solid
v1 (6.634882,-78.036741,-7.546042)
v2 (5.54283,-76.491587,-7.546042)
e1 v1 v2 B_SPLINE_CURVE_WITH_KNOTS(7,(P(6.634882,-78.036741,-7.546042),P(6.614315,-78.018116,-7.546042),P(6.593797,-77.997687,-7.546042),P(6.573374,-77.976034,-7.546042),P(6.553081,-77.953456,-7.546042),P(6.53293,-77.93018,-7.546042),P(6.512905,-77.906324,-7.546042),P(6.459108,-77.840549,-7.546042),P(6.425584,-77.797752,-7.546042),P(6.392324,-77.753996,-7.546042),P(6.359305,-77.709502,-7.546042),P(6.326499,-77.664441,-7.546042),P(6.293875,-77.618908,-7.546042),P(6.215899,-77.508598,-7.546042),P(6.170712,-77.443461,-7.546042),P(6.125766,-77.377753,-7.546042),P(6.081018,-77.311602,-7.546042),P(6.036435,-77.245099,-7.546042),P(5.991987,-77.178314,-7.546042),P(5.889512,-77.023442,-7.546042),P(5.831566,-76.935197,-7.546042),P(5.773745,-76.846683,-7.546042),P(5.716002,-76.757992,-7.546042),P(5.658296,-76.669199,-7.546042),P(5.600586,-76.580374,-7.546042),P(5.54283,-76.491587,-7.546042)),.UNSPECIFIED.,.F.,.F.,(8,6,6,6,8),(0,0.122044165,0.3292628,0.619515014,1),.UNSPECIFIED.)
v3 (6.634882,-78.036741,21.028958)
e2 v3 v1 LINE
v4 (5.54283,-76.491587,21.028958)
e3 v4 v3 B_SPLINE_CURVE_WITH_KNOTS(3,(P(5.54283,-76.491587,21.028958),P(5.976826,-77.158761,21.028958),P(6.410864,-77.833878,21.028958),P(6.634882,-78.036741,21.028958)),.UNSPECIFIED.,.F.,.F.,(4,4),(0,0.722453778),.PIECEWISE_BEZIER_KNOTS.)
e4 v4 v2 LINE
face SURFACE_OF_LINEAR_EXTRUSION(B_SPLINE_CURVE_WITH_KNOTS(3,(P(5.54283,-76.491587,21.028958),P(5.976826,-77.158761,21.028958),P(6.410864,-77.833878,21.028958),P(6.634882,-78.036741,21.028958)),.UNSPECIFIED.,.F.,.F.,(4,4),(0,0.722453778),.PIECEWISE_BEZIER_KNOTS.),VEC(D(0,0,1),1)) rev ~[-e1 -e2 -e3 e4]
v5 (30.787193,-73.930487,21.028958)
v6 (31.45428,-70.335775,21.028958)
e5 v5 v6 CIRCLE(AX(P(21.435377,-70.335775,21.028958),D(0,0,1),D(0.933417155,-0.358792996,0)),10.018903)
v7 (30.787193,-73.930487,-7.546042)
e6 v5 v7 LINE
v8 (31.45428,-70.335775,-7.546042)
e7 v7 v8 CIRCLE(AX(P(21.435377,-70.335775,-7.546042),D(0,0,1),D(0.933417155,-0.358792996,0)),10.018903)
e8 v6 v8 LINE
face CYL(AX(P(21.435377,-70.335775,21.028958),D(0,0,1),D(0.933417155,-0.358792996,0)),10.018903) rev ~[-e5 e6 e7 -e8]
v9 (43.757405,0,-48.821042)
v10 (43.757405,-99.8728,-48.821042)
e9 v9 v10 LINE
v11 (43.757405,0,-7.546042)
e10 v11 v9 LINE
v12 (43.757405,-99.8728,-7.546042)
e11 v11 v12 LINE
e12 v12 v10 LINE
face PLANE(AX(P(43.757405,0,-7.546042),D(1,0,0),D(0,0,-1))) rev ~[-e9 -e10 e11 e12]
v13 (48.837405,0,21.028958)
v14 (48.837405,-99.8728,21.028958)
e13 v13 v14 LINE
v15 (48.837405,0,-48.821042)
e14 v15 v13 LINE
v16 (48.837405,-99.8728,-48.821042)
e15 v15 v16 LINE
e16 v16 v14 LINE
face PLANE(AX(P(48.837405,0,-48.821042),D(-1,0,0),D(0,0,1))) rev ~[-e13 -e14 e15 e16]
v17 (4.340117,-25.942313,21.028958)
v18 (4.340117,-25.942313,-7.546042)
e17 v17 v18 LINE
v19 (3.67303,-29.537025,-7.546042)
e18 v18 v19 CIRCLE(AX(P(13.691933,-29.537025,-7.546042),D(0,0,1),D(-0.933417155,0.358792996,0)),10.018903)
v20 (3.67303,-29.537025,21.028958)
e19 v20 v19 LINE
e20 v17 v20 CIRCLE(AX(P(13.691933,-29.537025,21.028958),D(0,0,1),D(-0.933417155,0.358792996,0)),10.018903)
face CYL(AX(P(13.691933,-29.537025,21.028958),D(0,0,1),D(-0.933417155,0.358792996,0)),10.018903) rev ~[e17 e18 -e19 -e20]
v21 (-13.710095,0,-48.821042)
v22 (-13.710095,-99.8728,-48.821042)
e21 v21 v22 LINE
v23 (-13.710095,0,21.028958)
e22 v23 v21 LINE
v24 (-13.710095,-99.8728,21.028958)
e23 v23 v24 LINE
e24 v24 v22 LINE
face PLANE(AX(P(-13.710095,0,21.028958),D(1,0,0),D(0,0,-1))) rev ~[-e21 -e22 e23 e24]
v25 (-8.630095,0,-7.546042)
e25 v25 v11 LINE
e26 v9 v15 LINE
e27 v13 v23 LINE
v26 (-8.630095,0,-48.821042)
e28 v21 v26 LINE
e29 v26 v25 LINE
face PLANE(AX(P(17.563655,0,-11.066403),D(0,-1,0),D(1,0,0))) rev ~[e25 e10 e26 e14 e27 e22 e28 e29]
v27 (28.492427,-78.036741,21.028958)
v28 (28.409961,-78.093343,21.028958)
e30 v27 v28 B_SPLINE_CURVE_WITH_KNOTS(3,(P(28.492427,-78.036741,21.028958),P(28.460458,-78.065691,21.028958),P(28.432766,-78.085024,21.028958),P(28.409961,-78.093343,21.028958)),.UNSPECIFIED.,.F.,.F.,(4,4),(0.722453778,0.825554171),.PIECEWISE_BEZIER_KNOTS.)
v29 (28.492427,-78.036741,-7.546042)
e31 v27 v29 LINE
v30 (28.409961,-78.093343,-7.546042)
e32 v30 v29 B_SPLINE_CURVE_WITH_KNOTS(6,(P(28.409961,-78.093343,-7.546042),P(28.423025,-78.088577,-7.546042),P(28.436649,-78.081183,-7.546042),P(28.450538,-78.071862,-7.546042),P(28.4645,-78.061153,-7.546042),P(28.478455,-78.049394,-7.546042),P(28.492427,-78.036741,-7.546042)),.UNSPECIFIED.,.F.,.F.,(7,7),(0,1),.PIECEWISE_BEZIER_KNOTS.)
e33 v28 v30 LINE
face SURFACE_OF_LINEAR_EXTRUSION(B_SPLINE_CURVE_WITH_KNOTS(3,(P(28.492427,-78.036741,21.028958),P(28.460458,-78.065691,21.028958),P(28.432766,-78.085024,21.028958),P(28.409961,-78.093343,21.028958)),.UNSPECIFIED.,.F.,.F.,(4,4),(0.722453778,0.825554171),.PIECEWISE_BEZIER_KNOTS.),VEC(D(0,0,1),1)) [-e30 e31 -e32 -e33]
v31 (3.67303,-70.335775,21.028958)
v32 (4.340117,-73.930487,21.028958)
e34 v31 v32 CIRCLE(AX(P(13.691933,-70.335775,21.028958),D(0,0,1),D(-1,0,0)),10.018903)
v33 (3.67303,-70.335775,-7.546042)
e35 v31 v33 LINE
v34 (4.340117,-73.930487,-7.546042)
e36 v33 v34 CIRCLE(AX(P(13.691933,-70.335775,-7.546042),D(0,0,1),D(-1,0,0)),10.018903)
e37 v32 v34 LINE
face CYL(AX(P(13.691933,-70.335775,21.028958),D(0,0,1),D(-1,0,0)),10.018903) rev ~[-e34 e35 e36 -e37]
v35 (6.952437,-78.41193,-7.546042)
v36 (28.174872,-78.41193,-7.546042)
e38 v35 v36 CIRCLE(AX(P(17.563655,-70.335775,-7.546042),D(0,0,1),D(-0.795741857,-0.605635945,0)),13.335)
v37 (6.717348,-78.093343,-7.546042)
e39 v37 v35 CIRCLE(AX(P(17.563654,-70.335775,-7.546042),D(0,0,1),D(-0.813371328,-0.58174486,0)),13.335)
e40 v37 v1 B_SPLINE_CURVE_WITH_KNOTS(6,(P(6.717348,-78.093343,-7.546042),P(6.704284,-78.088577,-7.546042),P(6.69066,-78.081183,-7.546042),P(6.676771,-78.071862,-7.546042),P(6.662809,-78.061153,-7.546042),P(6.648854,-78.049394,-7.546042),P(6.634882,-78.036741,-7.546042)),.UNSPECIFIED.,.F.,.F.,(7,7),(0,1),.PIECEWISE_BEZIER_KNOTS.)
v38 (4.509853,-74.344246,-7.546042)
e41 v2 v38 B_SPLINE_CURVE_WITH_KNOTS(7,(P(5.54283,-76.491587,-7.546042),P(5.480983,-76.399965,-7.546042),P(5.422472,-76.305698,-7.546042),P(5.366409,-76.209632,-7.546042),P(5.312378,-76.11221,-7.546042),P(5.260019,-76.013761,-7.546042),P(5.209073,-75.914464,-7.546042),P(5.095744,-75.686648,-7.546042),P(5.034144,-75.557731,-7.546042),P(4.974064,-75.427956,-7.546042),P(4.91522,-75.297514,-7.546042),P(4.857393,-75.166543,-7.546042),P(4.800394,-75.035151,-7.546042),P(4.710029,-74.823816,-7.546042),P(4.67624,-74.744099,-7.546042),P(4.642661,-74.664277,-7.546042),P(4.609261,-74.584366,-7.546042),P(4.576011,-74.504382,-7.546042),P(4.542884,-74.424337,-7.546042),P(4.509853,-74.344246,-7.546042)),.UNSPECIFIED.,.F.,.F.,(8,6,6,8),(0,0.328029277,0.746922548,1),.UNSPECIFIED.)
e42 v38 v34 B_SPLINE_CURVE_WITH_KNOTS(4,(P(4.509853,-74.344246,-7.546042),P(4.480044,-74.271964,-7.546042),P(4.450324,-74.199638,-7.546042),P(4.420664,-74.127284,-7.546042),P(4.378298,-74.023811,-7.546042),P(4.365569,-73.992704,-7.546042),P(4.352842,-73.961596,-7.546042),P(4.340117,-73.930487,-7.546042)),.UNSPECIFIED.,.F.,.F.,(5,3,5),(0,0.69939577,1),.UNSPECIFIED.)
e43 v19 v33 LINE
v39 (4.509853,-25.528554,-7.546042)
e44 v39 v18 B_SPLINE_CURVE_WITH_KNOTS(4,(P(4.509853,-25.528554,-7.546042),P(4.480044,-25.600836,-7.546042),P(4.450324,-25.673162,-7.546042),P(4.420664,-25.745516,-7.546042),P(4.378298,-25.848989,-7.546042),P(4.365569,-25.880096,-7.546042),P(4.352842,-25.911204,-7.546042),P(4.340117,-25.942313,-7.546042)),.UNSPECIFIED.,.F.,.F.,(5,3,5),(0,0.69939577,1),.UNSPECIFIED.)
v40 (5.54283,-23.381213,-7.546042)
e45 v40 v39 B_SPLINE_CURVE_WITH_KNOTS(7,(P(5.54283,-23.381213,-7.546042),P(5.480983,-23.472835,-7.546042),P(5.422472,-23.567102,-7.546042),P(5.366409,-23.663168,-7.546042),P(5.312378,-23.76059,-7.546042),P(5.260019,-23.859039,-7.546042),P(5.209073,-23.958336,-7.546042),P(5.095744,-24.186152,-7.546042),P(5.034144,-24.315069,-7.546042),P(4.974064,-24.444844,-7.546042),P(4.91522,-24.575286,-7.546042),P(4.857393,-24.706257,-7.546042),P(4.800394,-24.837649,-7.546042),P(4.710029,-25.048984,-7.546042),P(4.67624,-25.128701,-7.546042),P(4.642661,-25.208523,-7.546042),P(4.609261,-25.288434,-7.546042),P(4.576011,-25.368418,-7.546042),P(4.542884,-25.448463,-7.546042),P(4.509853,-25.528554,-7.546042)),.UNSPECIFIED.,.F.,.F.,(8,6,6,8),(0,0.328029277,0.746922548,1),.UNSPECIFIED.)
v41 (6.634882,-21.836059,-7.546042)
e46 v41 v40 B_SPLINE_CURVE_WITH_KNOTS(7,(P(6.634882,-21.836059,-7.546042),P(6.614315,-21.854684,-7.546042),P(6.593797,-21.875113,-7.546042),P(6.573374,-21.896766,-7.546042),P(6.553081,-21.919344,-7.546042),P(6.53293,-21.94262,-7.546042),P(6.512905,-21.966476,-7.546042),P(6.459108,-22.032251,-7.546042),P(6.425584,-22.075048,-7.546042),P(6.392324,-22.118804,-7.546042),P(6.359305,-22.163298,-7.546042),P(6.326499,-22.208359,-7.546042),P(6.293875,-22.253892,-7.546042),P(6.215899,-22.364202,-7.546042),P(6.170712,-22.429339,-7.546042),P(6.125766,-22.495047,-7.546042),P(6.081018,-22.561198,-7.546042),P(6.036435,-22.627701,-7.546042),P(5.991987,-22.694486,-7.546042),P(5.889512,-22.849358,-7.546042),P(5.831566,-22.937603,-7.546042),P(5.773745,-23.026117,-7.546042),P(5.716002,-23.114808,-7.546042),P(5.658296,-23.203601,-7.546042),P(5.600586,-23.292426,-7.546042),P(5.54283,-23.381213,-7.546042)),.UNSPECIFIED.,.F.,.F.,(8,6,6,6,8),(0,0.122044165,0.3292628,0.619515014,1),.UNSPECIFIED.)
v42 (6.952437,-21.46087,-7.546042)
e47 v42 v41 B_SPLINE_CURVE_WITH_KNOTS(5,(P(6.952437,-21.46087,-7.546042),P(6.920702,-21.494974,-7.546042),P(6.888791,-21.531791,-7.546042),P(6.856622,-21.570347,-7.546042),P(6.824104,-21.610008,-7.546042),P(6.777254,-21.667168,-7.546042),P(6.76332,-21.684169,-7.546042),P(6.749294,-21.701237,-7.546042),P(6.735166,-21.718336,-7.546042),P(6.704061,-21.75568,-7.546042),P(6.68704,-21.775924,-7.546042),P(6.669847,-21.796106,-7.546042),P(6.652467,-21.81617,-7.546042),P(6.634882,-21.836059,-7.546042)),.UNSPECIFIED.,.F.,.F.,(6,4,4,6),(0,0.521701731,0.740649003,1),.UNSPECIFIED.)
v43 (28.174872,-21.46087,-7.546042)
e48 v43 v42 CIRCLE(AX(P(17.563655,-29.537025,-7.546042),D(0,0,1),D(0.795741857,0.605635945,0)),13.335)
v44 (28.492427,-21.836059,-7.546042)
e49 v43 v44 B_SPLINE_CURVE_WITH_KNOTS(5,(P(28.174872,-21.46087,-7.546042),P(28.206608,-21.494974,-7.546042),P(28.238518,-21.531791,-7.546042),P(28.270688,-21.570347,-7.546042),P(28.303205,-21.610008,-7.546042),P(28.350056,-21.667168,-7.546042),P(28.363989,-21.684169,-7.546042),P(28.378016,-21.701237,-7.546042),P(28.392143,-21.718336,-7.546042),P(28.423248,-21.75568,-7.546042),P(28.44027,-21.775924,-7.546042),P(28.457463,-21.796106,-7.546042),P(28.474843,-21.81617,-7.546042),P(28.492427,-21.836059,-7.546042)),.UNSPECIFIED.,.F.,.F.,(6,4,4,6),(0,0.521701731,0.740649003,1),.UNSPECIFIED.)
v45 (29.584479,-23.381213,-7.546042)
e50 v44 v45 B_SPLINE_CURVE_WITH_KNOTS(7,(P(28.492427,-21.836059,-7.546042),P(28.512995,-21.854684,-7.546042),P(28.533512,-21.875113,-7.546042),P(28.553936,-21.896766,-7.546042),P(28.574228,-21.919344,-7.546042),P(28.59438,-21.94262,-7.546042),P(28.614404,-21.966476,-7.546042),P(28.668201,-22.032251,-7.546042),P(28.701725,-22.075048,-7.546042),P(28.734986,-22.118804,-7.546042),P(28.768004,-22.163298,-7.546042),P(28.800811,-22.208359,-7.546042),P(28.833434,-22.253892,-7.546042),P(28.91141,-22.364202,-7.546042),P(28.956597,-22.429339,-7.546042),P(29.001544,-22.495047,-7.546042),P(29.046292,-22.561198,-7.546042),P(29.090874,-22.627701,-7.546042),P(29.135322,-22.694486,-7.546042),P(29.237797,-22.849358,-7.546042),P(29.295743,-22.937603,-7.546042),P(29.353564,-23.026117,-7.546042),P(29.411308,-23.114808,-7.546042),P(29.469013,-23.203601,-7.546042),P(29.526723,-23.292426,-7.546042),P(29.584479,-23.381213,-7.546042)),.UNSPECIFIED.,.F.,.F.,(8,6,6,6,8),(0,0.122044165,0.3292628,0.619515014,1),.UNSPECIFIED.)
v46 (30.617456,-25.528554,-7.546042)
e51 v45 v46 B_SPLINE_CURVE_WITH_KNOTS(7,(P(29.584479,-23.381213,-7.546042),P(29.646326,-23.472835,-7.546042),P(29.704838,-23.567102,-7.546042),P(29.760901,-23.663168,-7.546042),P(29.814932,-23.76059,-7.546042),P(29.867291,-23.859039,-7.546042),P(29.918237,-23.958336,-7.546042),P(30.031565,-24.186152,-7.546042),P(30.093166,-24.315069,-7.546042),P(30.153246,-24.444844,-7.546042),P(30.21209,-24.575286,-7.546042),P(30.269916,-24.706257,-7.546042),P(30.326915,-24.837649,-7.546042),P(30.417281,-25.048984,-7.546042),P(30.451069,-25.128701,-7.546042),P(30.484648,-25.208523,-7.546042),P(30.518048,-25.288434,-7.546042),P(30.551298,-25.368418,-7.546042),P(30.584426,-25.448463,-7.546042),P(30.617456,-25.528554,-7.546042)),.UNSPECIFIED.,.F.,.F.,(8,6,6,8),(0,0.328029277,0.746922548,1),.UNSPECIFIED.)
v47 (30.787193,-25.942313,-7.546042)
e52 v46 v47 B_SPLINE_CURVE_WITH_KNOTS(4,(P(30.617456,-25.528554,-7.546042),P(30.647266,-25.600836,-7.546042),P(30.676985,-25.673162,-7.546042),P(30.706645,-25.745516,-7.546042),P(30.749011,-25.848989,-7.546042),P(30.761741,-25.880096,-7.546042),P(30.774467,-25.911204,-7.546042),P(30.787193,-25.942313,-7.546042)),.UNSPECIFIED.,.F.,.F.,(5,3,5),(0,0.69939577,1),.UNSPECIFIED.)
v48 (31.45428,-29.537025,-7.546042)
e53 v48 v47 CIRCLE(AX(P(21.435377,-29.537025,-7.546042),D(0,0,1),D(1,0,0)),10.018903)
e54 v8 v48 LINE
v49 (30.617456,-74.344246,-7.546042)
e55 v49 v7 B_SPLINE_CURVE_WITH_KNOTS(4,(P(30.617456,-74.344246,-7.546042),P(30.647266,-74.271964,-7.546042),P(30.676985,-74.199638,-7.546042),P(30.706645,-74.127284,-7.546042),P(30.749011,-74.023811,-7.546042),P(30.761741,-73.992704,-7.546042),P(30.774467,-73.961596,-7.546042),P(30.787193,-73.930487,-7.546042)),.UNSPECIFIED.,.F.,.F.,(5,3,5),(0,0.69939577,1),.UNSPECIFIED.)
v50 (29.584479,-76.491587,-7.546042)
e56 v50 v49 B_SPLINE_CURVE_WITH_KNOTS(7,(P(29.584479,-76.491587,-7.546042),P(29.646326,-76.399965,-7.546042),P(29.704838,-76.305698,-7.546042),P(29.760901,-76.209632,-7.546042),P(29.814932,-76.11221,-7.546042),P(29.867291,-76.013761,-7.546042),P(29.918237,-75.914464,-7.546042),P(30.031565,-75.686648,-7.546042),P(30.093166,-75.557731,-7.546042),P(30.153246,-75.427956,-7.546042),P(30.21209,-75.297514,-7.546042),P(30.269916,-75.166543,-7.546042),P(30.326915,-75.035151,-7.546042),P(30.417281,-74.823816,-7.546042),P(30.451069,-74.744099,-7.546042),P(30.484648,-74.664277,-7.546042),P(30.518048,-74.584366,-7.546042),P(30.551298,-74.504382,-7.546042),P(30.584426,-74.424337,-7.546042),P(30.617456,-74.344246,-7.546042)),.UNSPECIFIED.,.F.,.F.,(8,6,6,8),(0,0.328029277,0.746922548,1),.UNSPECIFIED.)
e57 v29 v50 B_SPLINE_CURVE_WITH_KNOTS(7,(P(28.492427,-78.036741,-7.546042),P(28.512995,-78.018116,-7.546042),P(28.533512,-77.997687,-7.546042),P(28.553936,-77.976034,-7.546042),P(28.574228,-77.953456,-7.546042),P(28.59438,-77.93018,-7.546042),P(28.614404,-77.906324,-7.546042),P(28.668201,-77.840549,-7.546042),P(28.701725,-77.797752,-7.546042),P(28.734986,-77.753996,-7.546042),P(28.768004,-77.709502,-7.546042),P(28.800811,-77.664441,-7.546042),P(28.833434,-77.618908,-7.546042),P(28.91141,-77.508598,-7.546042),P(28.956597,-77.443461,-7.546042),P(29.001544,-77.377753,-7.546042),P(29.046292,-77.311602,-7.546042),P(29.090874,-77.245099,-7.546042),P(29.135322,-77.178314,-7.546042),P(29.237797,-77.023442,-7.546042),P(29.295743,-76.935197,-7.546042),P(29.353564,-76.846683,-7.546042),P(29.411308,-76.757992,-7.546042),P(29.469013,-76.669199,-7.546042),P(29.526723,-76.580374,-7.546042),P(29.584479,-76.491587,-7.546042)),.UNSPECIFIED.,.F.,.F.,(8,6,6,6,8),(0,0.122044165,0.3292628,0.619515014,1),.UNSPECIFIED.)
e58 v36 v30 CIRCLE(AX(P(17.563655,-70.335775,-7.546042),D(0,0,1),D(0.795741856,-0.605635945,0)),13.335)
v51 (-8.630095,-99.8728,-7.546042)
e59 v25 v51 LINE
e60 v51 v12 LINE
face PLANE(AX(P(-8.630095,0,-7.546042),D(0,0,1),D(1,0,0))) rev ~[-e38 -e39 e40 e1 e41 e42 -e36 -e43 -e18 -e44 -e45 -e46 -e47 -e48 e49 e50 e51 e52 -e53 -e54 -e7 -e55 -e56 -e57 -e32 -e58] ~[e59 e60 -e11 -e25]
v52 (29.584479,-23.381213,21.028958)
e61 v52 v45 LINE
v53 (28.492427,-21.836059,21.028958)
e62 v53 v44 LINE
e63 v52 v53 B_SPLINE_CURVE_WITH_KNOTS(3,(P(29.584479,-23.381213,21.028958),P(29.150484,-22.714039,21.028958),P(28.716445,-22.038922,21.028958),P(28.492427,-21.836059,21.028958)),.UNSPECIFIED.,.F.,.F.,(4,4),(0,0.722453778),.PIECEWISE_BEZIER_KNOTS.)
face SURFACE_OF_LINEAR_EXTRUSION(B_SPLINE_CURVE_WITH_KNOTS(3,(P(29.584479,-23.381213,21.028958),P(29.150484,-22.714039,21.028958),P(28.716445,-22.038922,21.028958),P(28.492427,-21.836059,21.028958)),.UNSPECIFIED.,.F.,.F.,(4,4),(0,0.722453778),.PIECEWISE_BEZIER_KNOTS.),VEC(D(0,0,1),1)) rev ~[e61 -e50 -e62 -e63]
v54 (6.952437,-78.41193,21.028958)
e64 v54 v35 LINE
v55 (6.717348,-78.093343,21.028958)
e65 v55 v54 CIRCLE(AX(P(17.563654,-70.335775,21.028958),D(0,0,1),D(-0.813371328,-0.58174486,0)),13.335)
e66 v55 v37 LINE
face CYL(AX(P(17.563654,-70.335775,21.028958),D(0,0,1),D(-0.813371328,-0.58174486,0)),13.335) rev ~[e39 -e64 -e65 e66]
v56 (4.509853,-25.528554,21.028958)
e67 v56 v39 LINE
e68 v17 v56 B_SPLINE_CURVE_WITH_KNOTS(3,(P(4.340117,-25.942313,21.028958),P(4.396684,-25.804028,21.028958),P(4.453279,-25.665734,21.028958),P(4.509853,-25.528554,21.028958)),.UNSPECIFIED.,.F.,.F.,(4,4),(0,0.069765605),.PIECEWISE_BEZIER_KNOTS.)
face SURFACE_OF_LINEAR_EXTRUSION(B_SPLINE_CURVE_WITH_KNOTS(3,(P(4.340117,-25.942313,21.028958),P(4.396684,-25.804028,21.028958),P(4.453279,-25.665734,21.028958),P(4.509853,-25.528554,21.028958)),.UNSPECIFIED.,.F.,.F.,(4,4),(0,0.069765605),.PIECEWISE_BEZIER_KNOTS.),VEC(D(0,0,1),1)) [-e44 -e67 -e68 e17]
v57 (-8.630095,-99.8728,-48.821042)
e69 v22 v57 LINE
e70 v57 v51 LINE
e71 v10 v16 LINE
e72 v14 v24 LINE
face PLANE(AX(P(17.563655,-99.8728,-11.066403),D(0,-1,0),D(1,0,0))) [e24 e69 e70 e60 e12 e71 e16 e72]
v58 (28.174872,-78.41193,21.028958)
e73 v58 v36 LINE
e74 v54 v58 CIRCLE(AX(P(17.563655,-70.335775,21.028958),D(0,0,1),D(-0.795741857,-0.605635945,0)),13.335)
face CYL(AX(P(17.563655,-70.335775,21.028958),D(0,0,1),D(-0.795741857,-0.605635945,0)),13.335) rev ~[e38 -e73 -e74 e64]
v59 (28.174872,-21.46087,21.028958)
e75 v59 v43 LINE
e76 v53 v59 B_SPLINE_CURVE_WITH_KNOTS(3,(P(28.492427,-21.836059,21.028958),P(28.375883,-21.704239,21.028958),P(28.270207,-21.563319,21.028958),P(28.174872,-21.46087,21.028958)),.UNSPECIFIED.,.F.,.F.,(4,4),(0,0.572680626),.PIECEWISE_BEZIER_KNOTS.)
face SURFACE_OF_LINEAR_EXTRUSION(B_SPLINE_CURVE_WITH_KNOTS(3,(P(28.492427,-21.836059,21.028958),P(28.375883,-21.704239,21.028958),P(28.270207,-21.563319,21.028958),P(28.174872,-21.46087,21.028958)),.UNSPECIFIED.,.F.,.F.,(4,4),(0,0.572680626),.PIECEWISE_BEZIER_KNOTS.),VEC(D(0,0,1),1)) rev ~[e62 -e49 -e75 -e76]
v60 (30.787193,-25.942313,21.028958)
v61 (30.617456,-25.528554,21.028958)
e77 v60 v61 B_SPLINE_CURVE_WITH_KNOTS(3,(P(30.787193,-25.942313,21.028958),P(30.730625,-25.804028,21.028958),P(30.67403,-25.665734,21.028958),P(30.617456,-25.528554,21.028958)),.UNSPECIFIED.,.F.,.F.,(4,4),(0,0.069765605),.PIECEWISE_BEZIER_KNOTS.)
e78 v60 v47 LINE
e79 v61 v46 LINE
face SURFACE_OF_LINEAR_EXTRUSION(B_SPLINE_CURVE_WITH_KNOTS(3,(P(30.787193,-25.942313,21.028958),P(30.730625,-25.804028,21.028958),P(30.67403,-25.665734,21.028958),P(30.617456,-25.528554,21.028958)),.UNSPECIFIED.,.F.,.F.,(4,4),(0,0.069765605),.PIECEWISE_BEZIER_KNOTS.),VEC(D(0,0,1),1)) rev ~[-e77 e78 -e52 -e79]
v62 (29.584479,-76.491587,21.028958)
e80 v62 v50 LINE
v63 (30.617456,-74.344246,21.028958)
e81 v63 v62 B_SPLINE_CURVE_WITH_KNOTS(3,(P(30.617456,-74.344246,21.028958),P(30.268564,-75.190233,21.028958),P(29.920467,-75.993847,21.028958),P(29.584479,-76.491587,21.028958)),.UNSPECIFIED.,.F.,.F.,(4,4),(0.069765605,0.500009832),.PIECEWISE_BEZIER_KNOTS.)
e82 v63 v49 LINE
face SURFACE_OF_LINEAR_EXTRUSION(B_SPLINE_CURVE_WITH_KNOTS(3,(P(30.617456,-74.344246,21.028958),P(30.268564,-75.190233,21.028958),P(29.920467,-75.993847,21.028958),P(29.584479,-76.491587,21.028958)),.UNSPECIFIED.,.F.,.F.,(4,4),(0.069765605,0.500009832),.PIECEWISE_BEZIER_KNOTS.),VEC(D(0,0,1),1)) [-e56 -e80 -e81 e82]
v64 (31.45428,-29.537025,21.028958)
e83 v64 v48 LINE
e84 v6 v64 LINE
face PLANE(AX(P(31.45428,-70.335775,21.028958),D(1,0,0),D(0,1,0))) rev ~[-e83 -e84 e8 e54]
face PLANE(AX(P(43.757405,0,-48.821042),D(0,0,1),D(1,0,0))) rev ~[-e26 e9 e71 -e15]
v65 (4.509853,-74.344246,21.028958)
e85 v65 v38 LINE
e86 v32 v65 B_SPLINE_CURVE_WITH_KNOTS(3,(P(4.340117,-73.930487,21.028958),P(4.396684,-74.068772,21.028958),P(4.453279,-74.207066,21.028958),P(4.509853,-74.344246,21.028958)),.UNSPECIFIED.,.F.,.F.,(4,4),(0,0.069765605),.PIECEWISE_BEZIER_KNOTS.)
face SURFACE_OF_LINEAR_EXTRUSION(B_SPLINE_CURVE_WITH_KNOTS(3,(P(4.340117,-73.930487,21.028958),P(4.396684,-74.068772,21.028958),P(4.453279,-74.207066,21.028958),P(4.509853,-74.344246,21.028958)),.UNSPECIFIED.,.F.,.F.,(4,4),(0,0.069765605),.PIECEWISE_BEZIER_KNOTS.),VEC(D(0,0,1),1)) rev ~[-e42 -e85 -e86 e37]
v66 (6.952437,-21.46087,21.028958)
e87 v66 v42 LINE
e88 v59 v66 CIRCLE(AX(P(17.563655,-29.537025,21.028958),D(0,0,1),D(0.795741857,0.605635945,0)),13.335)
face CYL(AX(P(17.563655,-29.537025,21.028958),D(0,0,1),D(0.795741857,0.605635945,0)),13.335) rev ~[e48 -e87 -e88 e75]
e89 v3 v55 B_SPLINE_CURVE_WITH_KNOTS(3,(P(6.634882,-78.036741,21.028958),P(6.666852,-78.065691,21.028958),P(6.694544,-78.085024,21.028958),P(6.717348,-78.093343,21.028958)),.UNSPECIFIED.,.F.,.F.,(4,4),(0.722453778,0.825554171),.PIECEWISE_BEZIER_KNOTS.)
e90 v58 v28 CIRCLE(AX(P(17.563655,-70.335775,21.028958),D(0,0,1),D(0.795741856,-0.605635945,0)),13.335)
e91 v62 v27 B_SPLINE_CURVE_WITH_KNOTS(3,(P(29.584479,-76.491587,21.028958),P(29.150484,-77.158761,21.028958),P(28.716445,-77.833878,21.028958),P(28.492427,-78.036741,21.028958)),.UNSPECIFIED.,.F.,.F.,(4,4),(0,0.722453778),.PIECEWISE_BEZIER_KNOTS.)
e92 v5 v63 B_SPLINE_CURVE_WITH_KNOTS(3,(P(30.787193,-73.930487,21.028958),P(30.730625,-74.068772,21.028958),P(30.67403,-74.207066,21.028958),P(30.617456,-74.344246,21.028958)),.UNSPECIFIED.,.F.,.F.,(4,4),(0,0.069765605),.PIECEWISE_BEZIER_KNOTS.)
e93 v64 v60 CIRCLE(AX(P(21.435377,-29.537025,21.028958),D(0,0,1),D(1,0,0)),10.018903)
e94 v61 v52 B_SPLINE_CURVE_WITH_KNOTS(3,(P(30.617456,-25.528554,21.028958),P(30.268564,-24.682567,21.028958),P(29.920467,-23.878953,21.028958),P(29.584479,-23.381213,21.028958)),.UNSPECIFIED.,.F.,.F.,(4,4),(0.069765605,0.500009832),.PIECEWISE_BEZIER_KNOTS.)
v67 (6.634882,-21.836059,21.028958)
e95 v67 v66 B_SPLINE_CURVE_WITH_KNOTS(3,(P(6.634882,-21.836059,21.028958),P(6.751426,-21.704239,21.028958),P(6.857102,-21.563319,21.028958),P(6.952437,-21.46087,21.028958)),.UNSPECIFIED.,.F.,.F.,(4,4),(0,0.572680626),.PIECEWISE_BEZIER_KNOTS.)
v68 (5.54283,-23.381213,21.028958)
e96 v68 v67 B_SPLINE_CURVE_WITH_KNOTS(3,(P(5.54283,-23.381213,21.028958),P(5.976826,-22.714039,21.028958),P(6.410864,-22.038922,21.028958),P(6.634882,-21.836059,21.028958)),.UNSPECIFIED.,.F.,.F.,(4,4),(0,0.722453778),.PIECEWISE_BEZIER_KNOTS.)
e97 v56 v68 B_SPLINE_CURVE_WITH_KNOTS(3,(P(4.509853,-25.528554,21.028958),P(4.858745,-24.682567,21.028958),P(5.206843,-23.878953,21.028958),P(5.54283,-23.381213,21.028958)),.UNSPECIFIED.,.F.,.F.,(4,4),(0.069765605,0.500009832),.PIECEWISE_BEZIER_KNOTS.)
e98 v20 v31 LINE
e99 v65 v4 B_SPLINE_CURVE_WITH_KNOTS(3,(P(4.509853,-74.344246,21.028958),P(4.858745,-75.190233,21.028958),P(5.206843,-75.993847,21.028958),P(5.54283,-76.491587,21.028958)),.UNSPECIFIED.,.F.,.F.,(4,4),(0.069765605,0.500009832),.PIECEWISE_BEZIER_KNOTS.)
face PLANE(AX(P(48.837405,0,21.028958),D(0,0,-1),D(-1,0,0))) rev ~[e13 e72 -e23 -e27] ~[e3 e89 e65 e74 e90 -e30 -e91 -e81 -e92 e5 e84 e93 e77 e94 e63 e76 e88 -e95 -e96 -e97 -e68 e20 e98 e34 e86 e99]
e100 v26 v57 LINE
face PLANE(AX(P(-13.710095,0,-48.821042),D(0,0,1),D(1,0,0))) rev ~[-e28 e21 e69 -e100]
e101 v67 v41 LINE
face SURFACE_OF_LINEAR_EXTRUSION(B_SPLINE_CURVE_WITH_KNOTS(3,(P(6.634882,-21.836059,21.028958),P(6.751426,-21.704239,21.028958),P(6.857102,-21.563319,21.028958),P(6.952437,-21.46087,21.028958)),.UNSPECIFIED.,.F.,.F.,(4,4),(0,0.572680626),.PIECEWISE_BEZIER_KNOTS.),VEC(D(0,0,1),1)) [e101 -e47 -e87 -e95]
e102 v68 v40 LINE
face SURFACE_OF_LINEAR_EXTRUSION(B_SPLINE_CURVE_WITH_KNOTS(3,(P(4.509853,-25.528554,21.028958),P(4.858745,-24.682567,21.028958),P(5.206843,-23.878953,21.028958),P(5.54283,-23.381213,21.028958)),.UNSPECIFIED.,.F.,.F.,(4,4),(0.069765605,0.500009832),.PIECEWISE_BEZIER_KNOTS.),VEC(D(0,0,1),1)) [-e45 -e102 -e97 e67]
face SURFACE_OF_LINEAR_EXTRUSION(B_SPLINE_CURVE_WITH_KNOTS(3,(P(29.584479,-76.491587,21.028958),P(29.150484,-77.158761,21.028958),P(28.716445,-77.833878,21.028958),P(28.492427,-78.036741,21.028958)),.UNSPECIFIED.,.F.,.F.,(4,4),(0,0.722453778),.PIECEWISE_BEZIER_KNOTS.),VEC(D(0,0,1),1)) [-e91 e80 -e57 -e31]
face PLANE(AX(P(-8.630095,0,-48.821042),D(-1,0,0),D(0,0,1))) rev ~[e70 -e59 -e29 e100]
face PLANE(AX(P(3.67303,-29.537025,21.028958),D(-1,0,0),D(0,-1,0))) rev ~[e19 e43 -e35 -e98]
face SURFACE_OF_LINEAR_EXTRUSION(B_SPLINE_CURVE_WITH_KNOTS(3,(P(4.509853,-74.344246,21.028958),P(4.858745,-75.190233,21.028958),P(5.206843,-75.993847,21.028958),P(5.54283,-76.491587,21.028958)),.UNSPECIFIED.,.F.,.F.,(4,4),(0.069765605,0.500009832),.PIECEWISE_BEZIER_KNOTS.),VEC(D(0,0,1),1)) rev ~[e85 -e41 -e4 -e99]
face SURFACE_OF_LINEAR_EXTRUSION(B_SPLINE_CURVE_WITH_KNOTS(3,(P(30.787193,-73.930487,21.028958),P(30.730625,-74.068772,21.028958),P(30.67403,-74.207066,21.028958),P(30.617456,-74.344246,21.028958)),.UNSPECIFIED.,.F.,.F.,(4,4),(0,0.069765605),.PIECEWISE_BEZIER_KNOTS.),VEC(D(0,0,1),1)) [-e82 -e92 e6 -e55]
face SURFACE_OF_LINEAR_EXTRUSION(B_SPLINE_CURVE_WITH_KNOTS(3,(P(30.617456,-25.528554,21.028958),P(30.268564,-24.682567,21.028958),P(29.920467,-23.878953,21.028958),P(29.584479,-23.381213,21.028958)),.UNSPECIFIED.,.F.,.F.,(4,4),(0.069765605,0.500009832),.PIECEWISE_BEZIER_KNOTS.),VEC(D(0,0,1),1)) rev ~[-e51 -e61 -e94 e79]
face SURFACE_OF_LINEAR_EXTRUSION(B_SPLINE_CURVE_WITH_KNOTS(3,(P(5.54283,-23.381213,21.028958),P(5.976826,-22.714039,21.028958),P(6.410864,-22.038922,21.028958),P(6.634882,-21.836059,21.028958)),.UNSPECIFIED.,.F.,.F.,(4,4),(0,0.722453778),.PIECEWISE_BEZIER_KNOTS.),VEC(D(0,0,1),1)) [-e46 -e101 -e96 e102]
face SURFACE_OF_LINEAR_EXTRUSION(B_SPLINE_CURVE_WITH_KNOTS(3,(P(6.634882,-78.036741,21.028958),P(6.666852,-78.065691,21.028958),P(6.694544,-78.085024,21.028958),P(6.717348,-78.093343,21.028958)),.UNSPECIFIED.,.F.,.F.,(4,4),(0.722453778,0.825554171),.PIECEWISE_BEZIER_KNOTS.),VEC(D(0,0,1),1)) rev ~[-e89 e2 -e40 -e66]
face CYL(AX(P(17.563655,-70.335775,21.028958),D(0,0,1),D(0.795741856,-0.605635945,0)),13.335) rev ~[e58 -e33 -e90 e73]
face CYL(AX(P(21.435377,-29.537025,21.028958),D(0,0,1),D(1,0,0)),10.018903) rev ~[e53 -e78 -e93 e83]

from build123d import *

# Parameters (mm, degrees)
F1_DEPTH = 99.8728
F3_DEPTH = 76.2


with BuildPart() as f1:
    # F0 (on Front) → F1 (new body)
    with BuildSketch(Plane.XZ):
        Polygon((-13.7100952876, 21.0289580073), (-13.7100952876, -48.8210419927), (-8.6300952876, -48.8210419927), (-8.6300952876, -7.5460419927), (43.7574047124, -7.5460419927), (43.7574047124, -48.8210419927), (48.8374047124, -48.8210419927), (48.8374047124, 21.0289580073), align=None)
    extrude(amount=F1_DEPTH)

    # F2 (on face) → F3 (cut)
    with BuildSketch(Plane.XY.offset(21.0289580073)):
        with BuildLine():
            Line((4.2286547124, -29.537025), (17.5636547124, -29.537025))
            Line((17.5636547124, -29.537025), (30.8986547124, -29.537025))
            ThreePointArc((30.8986547124, -29.537025), (30.5444686783, -26.4840438695), (29.5007253861, -23.5932409585))
            ThreePointArc((29.5007253861, -23.5932409585), (29.3257485393, -23.2540819151), (29.1411379191, -22.9200689325))
            ThreePointArc((29.1411379191, -22.9200689325), (28.7900449027, -22.3404710819), (28.4099613701, -21.7794572827))
            ThreePointArc((28.4099613701, -21.7794572827), (28.2935993518, -21.6192909152), (28.1748723712, -21.4608696772))
            ThreePointArc((28.1748723712, -21.4608696772), (17.5636547124, -16.202025), (6.9524370537, -21.4608696772))
            ThreePointArc((6.9524370537, -21.4608696772), (6.8337100731, -21.6192909152), (6.7173480548, -21.7794572827))
            ThreePointArc((6.7173480548, -21.7794572827), (6.3372645222, -22.3404710819), (5.9861715058, -22.9200689325))
            ThreePointArc((5.9861715058, -22.9200689325), (5.8015608856, -23.2540819151), (5.6265840388, -23.5932409585))
            ThreePointArc((5.6265840388, -23.5932409585), (4.5828407466, -26.4840438695), (4.2286547124, -29.537025))
        make_face()
        with BuildLine():
            add(Edge.make_bspline(
                [(6.6348823897, -21.8360589756), (6.6668516864, -21.8071087152), (6.6945437494, -21.7877762741), (6.7173480548, -21.7794572827)],
                knots=[0.7224537776, 0.7224537776, 0.7224537776, 0.7224537776, 0.8255541705, 0.8255541705, 0.8255541705, 0.8255541705], degree=3))
            ThreePointArc((6.7173480548, -21.7794572827), (6.8337100731, -21.6192909152), (6.9524370537, -21.4608696772))
            add(Edge.make_bspline(
                [(6.6348823897, -21.8360589756), (6.7514261553, -21.704238762), (6.8571022341, -21.5633194399), (6.9524370537, -21.4608696772)],
                knots=[0, 0, 0, 0, 0.5726806258, 0.5726806258, 0.5726806258, 0.5726806258], degree=3))
        make_face()
        with BuildLine():
            add(Edge.make_bspline(
                [(5.5428300794, -23.381213264), (5.6933813757, -23.1581826967), (5.8415011899, -22.996565798), (5.9861715058, -22.9200689325)],
                knots=[0.5000098323, 0.5000098323, 0.5000098323, 0.5000098323, 0.6927963918, 0.6927963918, 0.6927963918, 0.6927963918], degree=3))
            ThreePointArc((5.9861715058, -22.9200689325), (6.3372645222, -22.3404710819), (6.7173480548, -21.7794572827))
            add(Edge.make_bspline(
                [(6.6348823897, -21.8360589756), (6.6668516864, -21.8071087152), (6.6945437494, -21.7877762741), (6.7173480548, -21.7794572827)],
                knots=[0.7224537776, 0.7224537776, 0.7224537776, 0.7224537776, 0.8255541705, 0.8255541705, 0.8255541705, 0.8255541705], degree=3))
            add(Edge.make_bspline(
                [(5.5428300794, -23.381213264), (5.9768256033, -22.7140388873), (6.410864435, -22.0389216841), (6.6348823897, -21.8360589756)],
                knots=[0, 0, 0, 0, 0.7224537776, 0.7224537776, 0.7224537776, 0.7224537776], degree=3))
        make_face()
        with BuildLine():
            ThreePointArc((4.5098534254, -25.5285542738), (5.0140987543, -24.5296688557), (5.6265840388, -23.5932409585))
            ThreePointArc((5.6265840388, -23.5932409585), (5.8015608856, -23.2540819151), (5.9861715058, -22.9200689325))
            add(Edge.make_bspline(
                [(5.5428300794, -23.381213264), (5.6933813757, -23.1581826967), (5.8415011899, -22.996565798), (5.9861715058, -22.9200689325)],
                knots=[0.5000098323, 0.5000098323, 0.5000098323, 0.5000098323, 0.6927963918, 0.6927963918, 0.6927963918, 0.6927963918], degree=3))
            add(Edge.make_bspline(
                [(4.5098534254, -25.5285542738), (4.8587454794, -24.6825669454), (5.2068428285, -23.8789534298), (5.5428300794, -23.381213264)],
                knots=[0.0697656051, 0.0697656051, 0.0697656051, 0.0697656051, 0.5000098323, 0.5000098323, 0.5000098323, 0.5000098323], degree=3))
        make_face()
        with BuildLine():
            Line((3.6730297124, -29.537025), (4.2286547124, -29.537025))
            ThreePointArc((4.2286547124, -29.537025), (4.5828407466, -26.4840438695), (5.6265840388, -23.5932409585))
            ThreePointArc((5.6265840388, -23.5932409585), (5.0140987543, -24.5296688557), (4.5098534254, -25.5285542738))
            add(Edge.make_bspline(
                [(4.3401167851, -25.9423127165), (4.3966843979, -25.8040280443), (4.4532793595, -25.6657340757), (4.5098534254, -25.5285542738)],
                knots=[0, 0, 0, 0, 0.0697656051, 0.0697656051, 0.0697656051, 0.0697656051], degree=3))
            ThreePointArc((4.3401167851, -25.9423127165), (3.8412130947, -27.708982224), (3.6730297124, -29.537025))
        make_face()
        with BuildLine():
            ThreePointArc((28.1748723712, -21.4608696772), (28.2935993518, -21.6192909152), (28.4099613701, -21.7794572827))
            add(Edge.make_bspline(
                [(28.4924270351, -21.8360589756), (28.4604577384, -21.8071087152), (28.4327656754, -21.7877762741), (28.4099613701, -21.7794572827)],
                knots=[0.7224537776, 0.7224537776, 0.7224537776, 0.7224537776, 0.8255541705, 0.8255541705, 0.8255541705, 0.8255541705], degree=3))
            add(Edge.make_bspline(
                [(28.4924270351, -21.8360589756), (28.3758832696, -21.704238762), (28.2702071908, -21.5633194399), (28.1748723712, -21.4608696772)],
                knots=[0, 0, 0, 0, 0.5726806258, 0.5726806258, 0.5726806258, 0.5726806258], degree=3))
        make_face()
        with BuildLine():
            ThreePointArc((28.4099613701, -21.7794572827), (28.7900449027, -22.3404710819), (29.1411379191, -22.9200689325))
            add(Edge.make_bspline(
                [(29.5844793455, -23.381213264), (29.4339280492, -23.1581826967), (29.2858082349, -22.996565798), (29.1411379191, -22.9200689325)],
                knots=[0.5000098323, 0.5000098323, 0.5000098323, 0.5000098323, 0.6927963918, 0.6927963918, 0.6927963918, 0.6927963918], degree=3))
            add(Edge.make_bspline(
                [(29.5844793455, -23.381213264), (29.1504838216, -22.7140388873), (28.7164449899, -22.0389216841), (28.4924270351, -21.8360589756)],
                knots=[0, 0, 0, 0, 0.7224537776, 0.7224537776, 0.7224537776, 0.7224537776], degree=3))
            add(Edge.make_bspline(
                [(28.4924270351, -21.8360589756), (28.4604577384, -21.8071087152), (28.4327656754, -21.7877762741), (28.4099613701, -21.7794572827)],
                knots=[0.7224537776, 0.7224537776, 0.7224537776, 0.7224537776, 0.8255541705, 0.8255541705, 0.8255541705, 0.8255541705], degree=3))
        make_face()
        with BuildLine():
            ThreePointArc((29.5007253861, -23.5932409585), (30.5444686783, -26.4840438695), (30.8986547124, -29.537025))
            Line((30.8986547124, -29.537025), (31.4542797124, -29.537025))
            ThreePointArc((31.4542797124, -29.537025), (31.2860963302, -27.708982224), (30.7871926398, -25.9423127165))
            add(Edge.make_bspline(
                [(30.7871926398, -25.9423127165), (30.730625027, -25.8040280443), (30.6740300653, -25.6657340757), (30.6174559995, -25.5285542738)],
                knots=[0, 0, 0, 0, 0.0697656051, 0.0697656051, 0.0697656051, 0.0697656051], degree=3))
            ThreePointArc((30.6174559995, -25.5285542738), (30.1132106705, -24.5296688557), (29.5007253861, -23.5932409585))
        make_face()
        with BuildLine():
            ThreePointArc((29.1411379191, -22.9200689325), (29.3257485393, -23.2540819151), (29.5007253861, -23.5932409585))
            ThreePointArc((29.5007253861, -23.5932409585), (30.1132106705, -24.5296688557), (30.6174559995, -25.5285542738))
            add(Edge.make_bspline(
                [(30.6174559995, -25.5285542738), (30.2685639455, -24.6825669454), (29.9204665964, -23.8789534298), (29.5844793455, -23.381213264)],
                knots=[0.0697656051, 0.0697656051, 0.0697656051, 0.0697656051, 0.5000098323, 0.5000098323, 0.5000098323, 0.5000098323], degree=3))
            add(Edge.make_bspline(
                [(29.5844793455, -23.381213264), (29.4339280492, -23.1581826967), (29.2858082349, -22.996565798), (29.1411379191, -22.9200689325)],
                knots=[0.5000098323, 0.5000098323, 0.5000098323, 0.5000098323, 0.6927963918, 0.6927963918, 0.6927963918, 0.6927963918], degree=3))
        make_face()
        with BuildLine():
            ThreePointArc((4.2286547124, -29.537025), (8.1343857853, -38.9662939271), (17.5636547124, -42.872025))
            Line((17.5636547124, -42.872025), (17.5636547124, -29.537025))
            Line((17.5636547124, -29.537025), (4.2286547124, -29.537025))
        make_face()
        with BuildLine():
            Line((17.5636547124, -29.537025), (17.5636547124, -42.872025))
            ThreePointArc((17.5636547124, -42.872025), (26.9929236395, -38.9662939271), (30.8986547124, -29.537025))
            Line((30.8986547124, -29.537025), (17.5636547124, -29.537025))
        make_face()
        with BuildLine():
            Line((17.5636547124, -57.000775), (17.5636547124, -49.9364))
            Line((17.5636547124, -49.9364), (17.5636547124, -42.872025))
            ThreePointArc((17.5636547124, -42.872025), (8.1343857853, -38.9662939271), (4.2286547124, -29.537025))
            Line((4.2286547124, -29.537025), (3.6730297124, -29.537025))
            Line((3.6730297124, -29.537025), (3.6730297124, -70.335775))
            ThreePointArc((3.6730297124, -70.335775), (3.8412130947, -72.163817776), (4.3401167851, -73.9304872835))
            add(Edge.make_bspline(
                [(4.3401167851, -73.9304872835), (4.3966843979, -74.0687719557), (4.4532793595, -74.2070659243), (4.5098534254, -74.3442457262)],
                knots=[0, 0, 0, 0, 0.0697656051, 0.0697656051, 0.0697656051, 0.0697656051], degree=3))
            ThreePointArc((4.5098534254, -74.3442457262), (5.0140987543, -75.3431311443), (5.6265840388, -76.2795590415))
            ThreePointArc((5.6265840388, -76.2795590415), (6.2260494716, -63.3157370796), (17.5636547124, -57.000775))
        make_face()
        with BuildLine():
            Line((17.5636547124, -42.872025), (17.5636547124, -49.9364))
            Line((17.5636547124, -49.9364), (31.4542797124, -49.9364))
            Line((31.4542797124, -49.9364), (31.4542797124, -29.537025))
            Line((31.4542797124, -29.537025), (30.8986547124, -29.537025))
            ThreePointArc((30.8986547124, -29.537025), (26.9929236395, -38.9662939271), (17.5636547124, -42.872025))
        make_face()
        with BuildLine():
            Line((31.4542797124, -49.9364), (17.5636547124, -49.9364))
            Line((17.5636547124, -49.9364), (17.5636547124, -57.000775))
            ThreePointArc((17.5636547124, -57.000775), (26.9929236395, -60.9065060729), (30.8986547124, -70.335775))
            Line((30.8986547124, -70.335775), (31.4542797124, -70.335775))
            Line((31.4542797124, -70.335775), (31.4542797124, -49.9364))
        make_face()
        with BuildLine():
            Line((17.5636547124, -68.4276), (17.5636547124, -57.000775))
            ThreePointArc((17.5636547124, -57.000775), (6.2260494716, -63.3157370796), (5.6265840388, -76.2795590415))
            ThreePointArc((5.6265840388, -76.2795590415), (5.8015608856, -76.6187180849), (5.9861715058, -76.9527310675))
            ThreePointArc((5.9861715058, -76.9527310675), (6.3372645222, -77.5323289181), (6.7173480548, -78.0933427173))
            ThreePointArc((6.7173480548, -78.0933427173), (6.8337100731, -78.2535090848), (6.9524370537, -78.4119303228))
            ThreePointArc((6.9524370537, -78.4119303228), (17.5636547124, -83.670775), (28.1748723712, -78.4119303228))
            ThreePointArc((28.1748723712, -78.4119303228), (28.2935993518, -78.2535090848), (28.4099613701, -78.0933427173))
            ThreePointArc((28.4099613701, -78.0933427173), (28.7900449027, -77.5323289181), (29.1411379191, -76.9527310675))
            ThreePointArc((29.1411379191, -76.9527310675), (29.3257485393, -76.6187180849), (29.5007253861, -76.2795590415))
            ThreePointArc((29.5007253861, -76.2795590415), (30.5444686783, -73.3887561305), (30.8986547124, -70.335775))
            Line((30.8986547124, -70.335775), (17.5636547124, -70.335775))
            Line((17.5636547124, -70.335775), (17.5636547124, -68.4276))
        make_face()
        with BuildLine():
            ThreePointArc((30.8986547124, -70.335775), (26.9929236395, -60.9065060729), (17.5636547124, -57.000775))
            Line((17.5636547124, -57.000775), (17.5636547124, -68.4276))
            Line((17.5636547124, -68.4276), (17.5636547124, -70.335775))
            Line((17.5636547124, -70.335775), (30.8986547124, -70.335775))
        make_face()
        with BuildLine():
            Line((31.4542797124, -70.335775), (30.8986547124, -70.335775))
            ThreePointArc((30.8986547124, -70.335775), (30.5444686783, -73.3887561305), (29.5007253861, -76.2795590415))
            ThreePointArc((29.5007253861, -76.2795590415), (30.1132106705, -75.3431311443), (30.6174559995, -74.3442457262))
            add(Edge.make_bspline(
                [(30.7871926398, -73.9304872835), (30.730625027, -74.0687719557), (30.6740300653, -74.2070659243), (30.6174559995, -74.3442457262)],
                knots=[0, 0, 0, 0, 0.0697656051, 0.0697656051, 0.0697656051, 0.0697656051], degree=3))
            ThreePointArc((30.7871926398, -73.9304872835), (31.2860963302, -72.163817776), (31.4542797124, -70.335775))
        make_face()
        with BuildLine():
            ThreePointArc((30.6174559995, -74.3442457262), (30.1132106705, -75.3431311443), (29.5007253861, -76.2795590415))
            ThreePointArc((29.5007253861, -76.2795590415), (29.3257485393, -76.6187180849), (29.1411379191, -76.9527310675))
            add(Edge.make_bspline(
                [(29.5844793455, -76.491586736), (29.4339280492, -76.7146173033), (29.2858082349, -76.876234202), (29.1411379191, -76.9527310675)],
                knots=[0.5000098323, 0.5000098323, 0.5000098323, 0.5000098323, 0.6927963918, 0.6927963918, 0.6927963918, 0.6927963918], degree=3))
            add(Edge.make_bspline(
                [(30.6174559995, -74.3442457262), (30.2685639455, -75.1902330546), (29.9204665964, -75.9938465702), (29.5844793455, -76.491586736)],
                knots=[0.0697656051, 0.0697656051, 0.0697656051, 0.0697656051, 0.5000098323, 0.5000098323, 0.5000098323, 0.5000098323], degree=3))
        make_face()
        with BuildLine():
            add(Edge.make_bspline(
                [(29.5844793455, -76.491586736), (29.4339280492, -76.7146173033), (29.2858082349, -76.876234202), (29.1411379191, -76.9527310675)],
                knots=[0.5000098323, 0.5000098323, 0.5000098323, 0.5000098323, 0.6927963918, 0.6927963918, 0.6927963918, 0.6927963918], degree=3))
            ThreePointArc((29.1411379191, -76.9527310675), (28.7900449027, -77.5323289181), (28.4099613701, -78.0933427173))
            add(Edge.make_bspline(
                [(28.4924270351, -78.0367410244), (28.4604577384, -78.0656912848), (28.4327656754, -78.0850237259), (28.4099613701, -78.0933427173)],
                knots=[0.7224537776, 0.7224537776, 0.7224537776, 0.7224537776, 0.8255541705, 0.8255541705, 0.8255541705, 0.8255541705], degree=3))
            add(Edge.make_bspline(
                [(29.5844793455, -76.491586736), (29.1504838216, -77.1587611127), (28.7164449899, -77.8338783159), (28.4924270351, -78.0367410244)],
                knots=[0, 0, 0, 0, 0.7224537776, 0.7224537776, 0.7224537776, 0.7224537776], degree=3))
        make_face()
        with BuildLine():
            ThreePointArc((5.9861715058, -76.9527310675), (5.8015608856, -76.6187180849), (5.6265840388, -76.2795590415))
            ThreePointArc((5.6265840388, -76.2795590415), (5.0140987543, -75.3431311443), (4.5098534254, -74.3442457262))
            add(Edge.make_bspline(
                [(4.5098534254, -74.3442457262), (4.8587454794, -75.1902330546), (5.2068428285, -75.9938465702), (5.5428300794, -76.491586736)],
                knots=[0.0697656051, 0.0697656051, 0.0697656051, 0.0697656051, 0.5000098323, 0.5000098323, 0.5000098323, 0.5000098323], degree=3))
            add(Edge.make_bspline(
                [(5.5428300794, -76.491586736), (5.6933813757, -76.7146173033), (5.8415011899, -76.876234202), (5.9861715058, -76.9527310675)],
                knots=[0.5000098323, 0.5000098323, 0.5000098323, 0.5000098323, 0.6927963918, 0.6927963918, 0.6927963918, 0.6927963918], degree=3))
        make_face()
        with BuildLine():
            ThreePointArc((6.7173480548, -78.0933427173), (6.3372645222, -77.5323289181), (5.9861715058, -76.9527310675))
            add(Edge.make_bspline(
                [(5.5428300794, -76.491586736), (5.6933813757, -76.7146173033), (5.8415011899, -76.876234202), (5.9861715058, -76.9527310675)],
                knots=[0.5000098323, 0.5000098323, 0.5000098323, 0.5000098323, 0.6927963918, 0.6927963918, 0.6927963918, 0.6927963918], degree=3))
            add(Edge.make_bspline(
                [(5.5428300794, -76.491586736), (5.9768256033, -77.1587611127), (6.410864435, -77.8338783159), (6.6348823897, -78.0367410244)],
                knots=[0, 0, 0, 0, 0.7224537776, 0.7224537776, 0.7224537776, 0.7224537776], degree=3))
            add(Edge.make_bspline(
                [(6.6348823897, -78.0367410244), (6.6668516864, -78.0656912848), (6.6945437494, -78.0850237259), (6.7173480548, -78.0933427173)],
                knots=[0.7224537776, 0.7224537776, 0.7224537776, 0.7224537776, 0.8255541705, 0.8255541705, 0.8255541705, 0.8255541705], degree=3))
        make_face()
    extrude(amount=-F3_DEPTH, mode=Mode.SUBTRACT)


solid = f1.part
